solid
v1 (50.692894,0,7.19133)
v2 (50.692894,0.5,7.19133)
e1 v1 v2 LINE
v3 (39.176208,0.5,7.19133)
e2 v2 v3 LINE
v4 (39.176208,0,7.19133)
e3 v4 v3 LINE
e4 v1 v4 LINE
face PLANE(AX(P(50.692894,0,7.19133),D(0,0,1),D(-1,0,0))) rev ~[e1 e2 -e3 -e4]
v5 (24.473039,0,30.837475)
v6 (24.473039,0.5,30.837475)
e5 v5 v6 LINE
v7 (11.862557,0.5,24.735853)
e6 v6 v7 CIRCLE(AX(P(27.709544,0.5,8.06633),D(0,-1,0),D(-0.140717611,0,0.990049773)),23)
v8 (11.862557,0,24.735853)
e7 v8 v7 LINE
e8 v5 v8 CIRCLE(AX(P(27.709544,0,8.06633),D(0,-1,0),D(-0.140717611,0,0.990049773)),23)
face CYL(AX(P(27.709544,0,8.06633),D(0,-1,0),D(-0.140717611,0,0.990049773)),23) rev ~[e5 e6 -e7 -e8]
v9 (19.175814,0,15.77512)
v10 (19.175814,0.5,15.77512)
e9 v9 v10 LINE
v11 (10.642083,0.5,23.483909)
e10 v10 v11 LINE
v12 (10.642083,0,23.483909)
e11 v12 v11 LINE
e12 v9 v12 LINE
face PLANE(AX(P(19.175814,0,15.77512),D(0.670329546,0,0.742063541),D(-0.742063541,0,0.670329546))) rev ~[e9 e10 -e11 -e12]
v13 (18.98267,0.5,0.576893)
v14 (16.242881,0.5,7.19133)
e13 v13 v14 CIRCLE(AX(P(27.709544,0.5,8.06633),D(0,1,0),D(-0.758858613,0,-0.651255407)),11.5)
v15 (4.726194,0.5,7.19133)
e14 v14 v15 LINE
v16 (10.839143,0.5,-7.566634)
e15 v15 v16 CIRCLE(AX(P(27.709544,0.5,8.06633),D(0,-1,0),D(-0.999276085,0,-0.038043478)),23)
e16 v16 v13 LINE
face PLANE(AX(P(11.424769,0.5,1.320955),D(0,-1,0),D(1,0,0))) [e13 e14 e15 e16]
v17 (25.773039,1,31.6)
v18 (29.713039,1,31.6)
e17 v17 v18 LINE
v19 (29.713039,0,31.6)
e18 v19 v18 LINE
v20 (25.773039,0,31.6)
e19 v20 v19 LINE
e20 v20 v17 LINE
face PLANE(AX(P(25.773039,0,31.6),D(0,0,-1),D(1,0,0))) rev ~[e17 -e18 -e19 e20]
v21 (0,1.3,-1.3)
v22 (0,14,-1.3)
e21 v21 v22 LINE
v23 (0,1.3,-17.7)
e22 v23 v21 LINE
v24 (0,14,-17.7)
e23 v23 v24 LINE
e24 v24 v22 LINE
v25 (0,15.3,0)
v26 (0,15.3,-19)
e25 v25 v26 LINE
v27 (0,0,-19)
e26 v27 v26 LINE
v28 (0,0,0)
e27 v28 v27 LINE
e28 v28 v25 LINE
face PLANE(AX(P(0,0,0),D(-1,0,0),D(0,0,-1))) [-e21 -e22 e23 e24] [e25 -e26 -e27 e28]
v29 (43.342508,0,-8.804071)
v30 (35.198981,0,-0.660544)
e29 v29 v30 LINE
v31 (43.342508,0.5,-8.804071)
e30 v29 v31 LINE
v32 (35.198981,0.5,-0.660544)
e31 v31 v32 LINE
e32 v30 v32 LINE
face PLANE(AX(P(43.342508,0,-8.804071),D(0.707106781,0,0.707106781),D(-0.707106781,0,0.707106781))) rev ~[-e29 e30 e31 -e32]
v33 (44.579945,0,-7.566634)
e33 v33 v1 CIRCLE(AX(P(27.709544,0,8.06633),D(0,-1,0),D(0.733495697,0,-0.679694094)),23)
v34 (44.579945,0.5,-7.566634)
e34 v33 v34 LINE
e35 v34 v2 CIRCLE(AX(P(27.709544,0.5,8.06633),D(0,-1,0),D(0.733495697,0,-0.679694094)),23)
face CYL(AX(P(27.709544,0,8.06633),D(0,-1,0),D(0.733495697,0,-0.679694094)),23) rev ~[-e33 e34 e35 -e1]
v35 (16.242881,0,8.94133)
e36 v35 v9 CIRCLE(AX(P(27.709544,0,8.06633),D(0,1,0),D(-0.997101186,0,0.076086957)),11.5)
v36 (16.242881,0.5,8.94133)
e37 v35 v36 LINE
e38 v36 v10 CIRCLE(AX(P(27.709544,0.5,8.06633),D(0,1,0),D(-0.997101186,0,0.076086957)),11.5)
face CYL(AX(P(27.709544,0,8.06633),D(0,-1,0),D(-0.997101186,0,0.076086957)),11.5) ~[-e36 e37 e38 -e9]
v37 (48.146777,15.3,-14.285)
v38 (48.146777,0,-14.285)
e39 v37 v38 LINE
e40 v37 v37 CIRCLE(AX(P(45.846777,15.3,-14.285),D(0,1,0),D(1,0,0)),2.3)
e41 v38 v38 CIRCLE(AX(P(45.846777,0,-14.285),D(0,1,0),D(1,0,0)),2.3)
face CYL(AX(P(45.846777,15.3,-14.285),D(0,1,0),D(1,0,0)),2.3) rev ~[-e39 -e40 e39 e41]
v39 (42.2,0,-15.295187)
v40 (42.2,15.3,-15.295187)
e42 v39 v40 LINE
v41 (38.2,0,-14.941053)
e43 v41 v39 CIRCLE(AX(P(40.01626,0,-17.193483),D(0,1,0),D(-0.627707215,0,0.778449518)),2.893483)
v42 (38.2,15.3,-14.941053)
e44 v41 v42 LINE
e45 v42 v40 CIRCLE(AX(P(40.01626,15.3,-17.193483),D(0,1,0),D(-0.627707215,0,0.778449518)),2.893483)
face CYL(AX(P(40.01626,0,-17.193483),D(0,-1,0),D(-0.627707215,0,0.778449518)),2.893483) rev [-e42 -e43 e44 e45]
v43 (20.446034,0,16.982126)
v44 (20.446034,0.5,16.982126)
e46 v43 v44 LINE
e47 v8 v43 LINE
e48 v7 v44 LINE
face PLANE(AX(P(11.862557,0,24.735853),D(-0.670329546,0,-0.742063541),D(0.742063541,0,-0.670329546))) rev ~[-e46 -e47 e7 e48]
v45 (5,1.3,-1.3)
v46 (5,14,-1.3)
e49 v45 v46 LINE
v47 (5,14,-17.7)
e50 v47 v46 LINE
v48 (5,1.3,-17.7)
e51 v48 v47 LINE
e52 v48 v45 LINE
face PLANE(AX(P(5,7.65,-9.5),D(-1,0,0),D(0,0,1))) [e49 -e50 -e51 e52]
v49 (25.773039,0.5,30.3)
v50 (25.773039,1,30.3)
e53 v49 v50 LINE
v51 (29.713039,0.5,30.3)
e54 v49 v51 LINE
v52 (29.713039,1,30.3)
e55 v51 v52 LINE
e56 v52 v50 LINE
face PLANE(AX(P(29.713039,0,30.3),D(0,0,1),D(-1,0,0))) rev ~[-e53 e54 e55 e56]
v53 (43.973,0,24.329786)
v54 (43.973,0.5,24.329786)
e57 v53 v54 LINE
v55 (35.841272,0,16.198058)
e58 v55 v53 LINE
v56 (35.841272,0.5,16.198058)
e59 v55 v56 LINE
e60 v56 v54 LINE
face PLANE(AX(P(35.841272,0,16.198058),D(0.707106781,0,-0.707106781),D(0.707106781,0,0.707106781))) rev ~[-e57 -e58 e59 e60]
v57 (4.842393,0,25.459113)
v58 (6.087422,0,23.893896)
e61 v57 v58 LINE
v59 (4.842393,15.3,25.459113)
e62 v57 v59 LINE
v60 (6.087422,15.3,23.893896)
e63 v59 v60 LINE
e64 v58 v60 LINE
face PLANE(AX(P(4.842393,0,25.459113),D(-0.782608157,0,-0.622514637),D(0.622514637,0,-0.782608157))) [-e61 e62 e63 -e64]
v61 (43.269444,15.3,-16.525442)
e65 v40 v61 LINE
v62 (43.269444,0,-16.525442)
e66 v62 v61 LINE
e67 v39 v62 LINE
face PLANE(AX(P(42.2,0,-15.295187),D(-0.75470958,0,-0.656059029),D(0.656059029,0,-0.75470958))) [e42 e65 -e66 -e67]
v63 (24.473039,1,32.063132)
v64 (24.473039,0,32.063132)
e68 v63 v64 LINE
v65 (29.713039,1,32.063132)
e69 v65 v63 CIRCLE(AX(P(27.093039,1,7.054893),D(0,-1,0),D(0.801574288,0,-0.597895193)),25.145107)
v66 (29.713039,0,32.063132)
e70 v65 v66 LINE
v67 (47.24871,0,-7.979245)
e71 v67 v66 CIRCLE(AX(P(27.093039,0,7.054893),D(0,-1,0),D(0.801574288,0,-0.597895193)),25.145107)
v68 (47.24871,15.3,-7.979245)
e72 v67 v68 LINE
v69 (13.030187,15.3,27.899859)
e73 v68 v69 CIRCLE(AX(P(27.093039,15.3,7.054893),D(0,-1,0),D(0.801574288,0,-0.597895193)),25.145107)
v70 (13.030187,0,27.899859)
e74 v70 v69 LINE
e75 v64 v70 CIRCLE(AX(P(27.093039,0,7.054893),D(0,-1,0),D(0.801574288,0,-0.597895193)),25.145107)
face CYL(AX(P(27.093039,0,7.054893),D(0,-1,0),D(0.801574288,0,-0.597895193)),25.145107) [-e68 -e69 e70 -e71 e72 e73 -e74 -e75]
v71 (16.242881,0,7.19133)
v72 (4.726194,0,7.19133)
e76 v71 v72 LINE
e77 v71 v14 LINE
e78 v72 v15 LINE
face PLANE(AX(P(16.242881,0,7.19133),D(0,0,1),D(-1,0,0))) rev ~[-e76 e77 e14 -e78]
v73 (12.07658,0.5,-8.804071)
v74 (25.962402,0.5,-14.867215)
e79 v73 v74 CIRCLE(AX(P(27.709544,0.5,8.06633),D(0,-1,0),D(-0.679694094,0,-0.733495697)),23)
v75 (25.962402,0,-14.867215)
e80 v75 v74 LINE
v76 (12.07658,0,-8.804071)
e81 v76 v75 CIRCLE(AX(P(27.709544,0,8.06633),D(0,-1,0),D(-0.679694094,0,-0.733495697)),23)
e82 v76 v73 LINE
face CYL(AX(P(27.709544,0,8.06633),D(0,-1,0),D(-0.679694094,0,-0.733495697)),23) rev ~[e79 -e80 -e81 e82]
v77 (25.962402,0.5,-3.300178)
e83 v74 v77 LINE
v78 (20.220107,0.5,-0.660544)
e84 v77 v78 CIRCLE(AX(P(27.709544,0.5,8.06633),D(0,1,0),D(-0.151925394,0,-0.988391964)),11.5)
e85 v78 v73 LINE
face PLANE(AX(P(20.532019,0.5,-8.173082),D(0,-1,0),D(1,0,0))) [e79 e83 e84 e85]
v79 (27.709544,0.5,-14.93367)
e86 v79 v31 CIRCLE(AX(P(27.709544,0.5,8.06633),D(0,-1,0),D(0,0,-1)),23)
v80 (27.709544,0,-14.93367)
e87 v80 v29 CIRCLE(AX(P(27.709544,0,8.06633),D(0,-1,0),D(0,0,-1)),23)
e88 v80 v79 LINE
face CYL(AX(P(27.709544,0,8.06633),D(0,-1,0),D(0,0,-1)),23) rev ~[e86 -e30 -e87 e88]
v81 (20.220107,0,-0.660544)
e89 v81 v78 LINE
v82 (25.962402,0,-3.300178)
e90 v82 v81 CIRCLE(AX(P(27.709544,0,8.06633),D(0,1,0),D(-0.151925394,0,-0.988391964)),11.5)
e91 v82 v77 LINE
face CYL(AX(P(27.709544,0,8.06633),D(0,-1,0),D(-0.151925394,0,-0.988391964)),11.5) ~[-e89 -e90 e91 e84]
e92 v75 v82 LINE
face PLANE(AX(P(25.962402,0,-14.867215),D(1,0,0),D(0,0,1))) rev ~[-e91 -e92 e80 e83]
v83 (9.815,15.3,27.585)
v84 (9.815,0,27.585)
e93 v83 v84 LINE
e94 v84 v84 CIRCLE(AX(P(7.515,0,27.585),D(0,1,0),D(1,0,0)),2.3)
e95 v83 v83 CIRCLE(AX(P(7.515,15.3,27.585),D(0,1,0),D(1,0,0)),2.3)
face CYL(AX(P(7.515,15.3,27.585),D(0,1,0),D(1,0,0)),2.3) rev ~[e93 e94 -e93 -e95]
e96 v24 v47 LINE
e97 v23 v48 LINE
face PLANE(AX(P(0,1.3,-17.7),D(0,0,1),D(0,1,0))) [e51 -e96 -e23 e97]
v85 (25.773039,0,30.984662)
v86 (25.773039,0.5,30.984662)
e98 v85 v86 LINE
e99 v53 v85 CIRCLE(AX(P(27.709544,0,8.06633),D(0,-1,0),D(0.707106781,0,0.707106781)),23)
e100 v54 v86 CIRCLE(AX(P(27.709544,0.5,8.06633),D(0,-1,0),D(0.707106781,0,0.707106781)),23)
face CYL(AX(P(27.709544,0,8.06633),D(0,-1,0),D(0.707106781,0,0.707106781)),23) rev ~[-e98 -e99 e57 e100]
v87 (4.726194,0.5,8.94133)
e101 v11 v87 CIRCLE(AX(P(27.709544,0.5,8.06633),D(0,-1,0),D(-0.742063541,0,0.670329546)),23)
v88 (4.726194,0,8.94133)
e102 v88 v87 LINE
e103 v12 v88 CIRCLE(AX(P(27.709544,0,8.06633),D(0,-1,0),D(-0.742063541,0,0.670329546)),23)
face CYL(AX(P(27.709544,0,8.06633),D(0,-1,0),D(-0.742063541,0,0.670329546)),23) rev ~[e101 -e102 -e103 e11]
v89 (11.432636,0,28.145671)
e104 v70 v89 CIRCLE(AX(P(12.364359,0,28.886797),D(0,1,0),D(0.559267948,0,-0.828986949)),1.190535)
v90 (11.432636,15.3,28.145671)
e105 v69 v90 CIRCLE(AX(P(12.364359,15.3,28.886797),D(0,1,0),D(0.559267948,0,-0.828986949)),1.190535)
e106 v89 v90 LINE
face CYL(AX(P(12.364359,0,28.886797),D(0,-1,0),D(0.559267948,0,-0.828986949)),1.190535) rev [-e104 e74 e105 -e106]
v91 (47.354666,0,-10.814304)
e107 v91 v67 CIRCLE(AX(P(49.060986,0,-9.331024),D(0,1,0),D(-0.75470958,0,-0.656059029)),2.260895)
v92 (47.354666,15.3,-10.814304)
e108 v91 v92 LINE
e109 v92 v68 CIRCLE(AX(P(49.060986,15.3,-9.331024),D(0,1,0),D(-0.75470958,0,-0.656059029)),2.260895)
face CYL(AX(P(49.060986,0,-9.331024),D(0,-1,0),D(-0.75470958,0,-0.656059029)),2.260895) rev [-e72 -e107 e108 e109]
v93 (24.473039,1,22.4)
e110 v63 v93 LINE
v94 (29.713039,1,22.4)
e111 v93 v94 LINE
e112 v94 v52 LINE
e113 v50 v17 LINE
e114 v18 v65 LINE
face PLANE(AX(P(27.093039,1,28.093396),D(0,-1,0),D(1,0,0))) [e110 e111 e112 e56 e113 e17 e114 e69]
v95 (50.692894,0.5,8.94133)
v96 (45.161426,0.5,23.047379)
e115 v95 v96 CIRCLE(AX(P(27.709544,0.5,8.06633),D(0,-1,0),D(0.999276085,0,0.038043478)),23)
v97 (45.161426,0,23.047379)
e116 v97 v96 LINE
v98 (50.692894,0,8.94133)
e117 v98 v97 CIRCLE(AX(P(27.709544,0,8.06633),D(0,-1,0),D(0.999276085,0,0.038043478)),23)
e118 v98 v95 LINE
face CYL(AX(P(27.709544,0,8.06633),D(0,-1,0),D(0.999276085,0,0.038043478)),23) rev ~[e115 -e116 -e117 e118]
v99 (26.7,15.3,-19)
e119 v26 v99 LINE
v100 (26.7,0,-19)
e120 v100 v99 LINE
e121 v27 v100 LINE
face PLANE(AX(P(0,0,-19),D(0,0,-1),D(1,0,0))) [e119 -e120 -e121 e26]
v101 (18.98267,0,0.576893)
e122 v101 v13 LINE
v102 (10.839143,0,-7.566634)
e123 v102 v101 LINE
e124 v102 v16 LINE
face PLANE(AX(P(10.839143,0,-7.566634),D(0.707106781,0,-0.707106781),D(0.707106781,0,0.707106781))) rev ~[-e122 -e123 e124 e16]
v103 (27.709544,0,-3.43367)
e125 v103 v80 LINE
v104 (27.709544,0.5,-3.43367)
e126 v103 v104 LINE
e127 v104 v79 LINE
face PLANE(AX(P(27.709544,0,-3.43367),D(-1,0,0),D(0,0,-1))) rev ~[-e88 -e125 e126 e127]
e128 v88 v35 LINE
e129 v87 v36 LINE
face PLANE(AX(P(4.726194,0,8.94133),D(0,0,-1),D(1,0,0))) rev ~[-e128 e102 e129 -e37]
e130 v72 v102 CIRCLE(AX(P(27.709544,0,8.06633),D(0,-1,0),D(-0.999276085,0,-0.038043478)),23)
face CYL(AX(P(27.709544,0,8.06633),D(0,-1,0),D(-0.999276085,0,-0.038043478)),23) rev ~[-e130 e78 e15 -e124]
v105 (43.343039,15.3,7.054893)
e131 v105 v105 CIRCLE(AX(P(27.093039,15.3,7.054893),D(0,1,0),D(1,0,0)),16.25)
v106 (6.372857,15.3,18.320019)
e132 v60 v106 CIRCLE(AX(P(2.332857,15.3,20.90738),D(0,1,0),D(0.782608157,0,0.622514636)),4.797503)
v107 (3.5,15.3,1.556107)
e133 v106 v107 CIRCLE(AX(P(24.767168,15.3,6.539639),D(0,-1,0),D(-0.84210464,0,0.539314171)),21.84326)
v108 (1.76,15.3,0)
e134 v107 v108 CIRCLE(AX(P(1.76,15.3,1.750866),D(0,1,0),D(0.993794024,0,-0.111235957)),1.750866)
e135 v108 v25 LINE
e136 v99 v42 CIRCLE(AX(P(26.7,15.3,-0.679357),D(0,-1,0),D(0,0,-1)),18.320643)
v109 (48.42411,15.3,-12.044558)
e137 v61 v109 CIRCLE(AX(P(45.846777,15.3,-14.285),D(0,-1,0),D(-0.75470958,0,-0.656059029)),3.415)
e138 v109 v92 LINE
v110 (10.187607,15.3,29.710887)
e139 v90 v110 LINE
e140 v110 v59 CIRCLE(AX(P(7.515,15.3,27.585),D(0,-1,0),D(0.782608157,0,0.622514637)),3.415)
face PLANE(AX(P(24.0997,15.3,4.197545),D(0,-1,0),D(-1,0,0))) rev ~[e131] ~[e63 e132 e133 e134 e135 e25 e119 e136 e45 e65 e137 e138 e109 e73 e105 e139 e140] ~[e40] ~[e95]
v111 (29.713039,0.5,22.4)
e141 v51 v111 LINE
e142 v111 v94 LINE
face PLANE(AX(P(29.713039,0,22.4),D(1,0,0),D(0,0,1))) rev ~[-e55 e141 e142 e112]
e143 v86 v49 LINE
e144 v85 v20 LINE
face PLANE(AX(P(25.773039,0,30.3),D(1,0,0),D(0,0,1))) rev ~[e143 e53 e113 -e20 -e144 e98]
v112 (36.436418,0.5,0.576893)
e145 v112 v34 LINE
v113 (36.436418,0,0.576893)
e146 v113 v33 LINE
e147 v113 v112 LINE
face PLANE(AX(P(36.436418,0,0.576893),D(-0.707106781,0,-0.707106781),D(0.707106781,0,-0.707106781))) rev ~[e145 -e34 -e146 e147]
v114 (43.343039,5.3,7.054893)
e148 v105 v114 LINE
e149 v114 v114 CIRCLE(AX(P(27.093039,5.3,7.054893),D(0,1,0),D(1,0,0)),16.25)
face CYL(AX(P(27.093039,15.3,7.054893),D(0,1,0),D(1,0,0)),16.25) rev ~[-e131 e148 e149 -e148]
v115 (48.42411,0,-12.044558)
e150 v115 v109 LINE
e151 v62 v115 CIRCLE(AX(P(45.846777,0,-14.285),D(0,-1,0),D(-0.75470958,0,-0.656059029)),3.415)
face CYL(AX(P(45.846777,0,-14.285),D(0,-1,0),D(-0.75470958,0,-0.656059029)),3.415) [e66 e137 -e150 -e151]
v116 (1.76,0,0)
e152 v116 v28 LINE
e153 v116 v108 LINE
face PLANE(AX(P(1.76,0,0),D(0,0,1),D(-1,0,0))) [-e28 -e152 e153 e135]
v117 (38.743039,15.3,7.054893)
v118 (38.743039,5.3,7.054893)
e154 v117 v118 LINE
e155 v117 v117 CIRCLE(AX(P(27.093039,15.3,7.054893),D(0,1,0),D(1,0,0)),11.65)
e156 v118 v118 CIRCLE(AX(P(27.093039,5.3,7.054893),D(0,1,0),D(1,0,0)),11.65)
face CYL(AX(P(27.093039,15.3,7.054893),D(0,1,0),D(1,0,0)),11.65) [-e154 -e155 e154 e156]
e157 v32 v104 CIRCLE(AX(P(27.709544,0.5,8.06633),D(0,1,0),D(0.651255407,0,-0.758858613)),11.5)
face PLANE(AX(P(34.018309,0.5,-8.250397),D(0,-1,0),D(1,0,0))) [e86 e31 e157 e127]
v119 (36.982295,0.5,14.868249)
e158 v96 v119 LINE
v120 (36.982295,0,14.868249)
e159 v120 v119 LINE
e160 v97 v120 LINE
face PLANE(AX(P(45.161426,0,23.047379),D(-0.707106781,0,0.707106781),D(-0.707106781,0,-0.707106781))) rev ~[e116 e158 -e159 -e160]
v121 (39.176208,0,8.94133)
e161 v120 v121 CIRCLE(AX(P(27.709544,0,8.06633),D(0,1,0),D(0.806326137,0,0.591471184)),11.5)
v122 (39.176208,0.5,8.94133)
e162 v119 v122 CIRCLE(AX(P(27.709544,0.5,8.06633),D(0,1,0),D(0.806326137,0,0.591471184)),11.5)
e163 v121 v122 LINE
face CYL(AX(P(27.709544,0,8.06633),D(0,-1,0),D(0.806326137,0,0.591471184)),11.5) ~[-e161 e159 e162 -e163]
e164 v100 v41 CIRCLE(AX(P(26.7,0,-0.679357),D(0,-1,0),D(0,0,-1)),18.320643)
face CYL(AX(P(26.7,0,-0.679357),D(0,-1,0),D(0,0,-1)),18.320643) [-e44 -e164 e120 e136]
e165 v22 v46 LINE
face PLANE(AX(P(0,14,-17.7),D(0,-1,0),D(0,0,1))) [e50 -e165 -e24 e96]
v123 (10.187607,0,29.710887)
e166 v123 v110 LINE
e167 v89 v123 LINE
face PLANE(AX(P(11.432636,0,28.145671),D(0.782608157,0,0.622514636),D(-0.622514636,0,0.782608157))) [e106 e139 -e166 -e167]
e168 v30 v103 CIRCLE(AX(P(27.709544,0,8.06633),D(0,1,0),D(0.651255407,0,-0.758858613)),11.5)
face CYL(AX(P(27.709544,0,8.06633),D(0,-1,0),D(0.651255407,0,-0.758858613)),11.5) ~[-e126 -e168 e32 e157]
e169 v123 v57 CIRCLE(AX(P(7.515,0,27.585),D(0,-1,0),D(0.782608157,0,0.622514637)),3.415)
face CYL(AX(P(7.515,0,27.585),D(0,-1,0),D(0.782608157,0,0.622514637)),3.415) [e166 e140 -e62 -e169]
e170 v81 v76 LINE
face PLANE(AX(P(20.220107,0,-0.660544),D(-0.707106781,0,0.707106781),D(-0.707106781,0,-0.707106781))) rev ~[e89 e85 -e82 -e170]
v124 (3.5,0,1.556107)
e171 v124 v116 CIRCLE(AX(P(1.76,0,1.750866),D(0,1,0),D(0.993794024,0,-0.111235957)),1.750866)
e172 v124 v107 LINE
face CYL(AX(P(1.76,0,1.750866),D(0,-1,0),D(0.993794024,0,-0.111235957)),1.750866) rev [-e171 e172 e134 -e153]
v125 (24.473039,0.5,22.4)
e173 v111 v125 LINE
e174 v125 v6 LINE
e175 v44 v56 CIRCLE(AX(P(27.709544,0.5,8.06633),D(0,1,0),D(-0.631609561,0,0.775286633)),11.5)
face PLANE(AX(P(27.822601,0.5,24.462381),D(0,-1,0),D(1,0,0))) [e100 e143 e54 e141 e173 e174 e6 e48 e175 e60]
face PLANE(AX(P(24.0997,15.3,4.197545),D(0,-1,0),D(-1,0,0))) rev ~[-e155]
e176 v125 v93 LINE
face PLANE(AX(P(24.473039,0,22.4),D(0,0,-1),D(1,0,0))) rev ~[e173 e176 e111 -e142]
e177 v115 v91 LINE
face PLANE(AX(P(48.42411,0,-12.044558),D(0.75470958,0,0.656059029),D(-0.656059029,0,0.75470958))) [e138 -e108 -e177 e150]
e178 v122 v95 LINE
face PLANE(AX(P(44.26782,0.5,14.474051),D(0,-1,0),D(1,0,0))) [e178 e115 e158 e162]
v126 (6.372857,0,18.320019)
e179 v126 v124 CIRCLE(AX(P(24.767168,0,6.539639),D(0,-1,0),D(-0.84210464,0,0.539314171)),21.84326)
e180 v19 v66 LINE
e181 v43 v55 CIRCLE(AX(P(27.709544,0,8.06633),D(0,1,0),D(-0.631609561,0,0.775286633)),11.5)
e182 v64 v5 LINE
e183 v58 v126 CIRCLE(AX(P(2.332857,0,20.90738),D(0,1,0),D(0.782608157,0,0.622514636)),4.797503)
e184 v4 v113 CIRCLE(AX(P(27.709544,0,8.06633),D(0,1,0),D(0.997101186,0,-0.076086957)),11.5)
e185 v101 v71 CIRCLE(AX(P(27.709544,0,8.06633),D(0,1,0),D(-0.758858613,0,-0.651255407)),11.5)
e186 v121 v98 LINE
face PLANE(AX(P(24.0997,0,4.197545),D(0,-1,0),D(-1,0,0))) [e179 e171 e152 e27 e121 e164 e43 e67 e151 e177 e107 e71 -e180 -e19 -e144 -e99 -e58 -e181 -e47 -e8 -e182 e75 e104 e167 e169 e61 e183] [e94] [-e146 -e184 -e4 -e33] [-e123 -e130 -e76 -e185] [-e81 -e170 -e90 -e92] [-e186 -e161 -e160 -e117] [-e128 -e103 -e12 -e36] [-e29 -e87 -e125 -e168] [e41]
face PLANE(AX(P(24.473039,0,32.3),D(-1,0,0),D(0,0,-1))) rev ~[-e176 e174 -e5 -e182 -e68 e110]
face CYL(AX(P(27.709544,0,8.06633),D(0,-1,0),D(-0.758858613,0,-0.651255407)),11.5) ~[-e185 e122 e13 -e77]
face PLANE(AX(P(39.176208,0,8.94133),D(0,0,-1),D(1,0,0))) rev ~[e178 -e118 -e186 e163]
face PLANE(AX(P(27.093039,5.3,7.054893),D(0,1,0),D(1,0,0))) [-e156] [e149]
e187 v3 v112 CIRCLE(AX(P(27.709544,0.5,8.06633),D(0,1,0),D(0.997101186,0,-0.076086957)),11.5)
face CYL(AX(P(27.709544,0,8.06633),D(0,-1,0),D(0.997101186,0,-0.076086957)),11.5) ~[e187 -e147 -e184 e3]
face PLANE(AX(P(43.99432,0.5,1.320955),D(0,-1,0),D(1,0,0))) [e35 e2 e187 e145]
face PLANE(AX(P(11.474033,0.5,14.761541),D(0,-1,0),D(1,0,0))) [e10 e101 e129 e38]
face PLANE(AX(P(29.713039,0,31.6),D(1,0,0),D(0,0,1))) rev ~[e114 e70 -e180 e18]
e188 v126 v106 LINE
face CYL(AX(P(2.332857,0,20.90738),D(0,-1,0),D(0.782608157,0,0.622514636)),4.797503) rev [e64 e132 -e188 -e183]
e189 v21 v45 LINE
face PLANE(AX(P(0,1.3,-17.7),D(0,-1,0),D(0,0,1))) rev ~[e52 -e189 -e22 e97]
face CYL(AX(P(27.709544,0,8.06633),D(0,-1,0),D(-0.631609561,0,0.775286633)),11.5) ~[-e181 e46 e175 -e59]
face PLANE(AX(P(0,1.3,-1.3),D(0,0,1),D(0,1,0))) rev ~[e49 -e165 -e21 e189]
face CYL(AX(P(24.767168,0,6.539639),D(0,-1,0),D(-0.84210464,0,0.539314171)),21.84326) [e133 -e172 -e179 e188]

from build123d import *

# Parameters (mm, degrees)
BOSS_EXTRUDE1_DEPTH = 15.3
SKETCH2_R           = 2.3
CUT_EXTRUDE1_DEPTH  = 16.3
SKETCH3_R           = 16.25
SKETCH3_R_2         = 11.65
CUT_EXTRUDE2_DEPTH  = 10
SKETCH4_W           = 16.4
SKETCH4_H           = 12.7
CUT_EXTRUDE3_DEPTH  = 5
CUT_EXTRUDE6_DEPTH  = 1
CUT_EXTRUDE7_DEPTH  = 0.5


with BuildPart() as part:
    # Sketch1 → Boss-Extrude1 (new body)
    with BuildSketch(Plane(origin=(0, 0, 0), x_dir=(1, 0, 0), z_dir=(0, 1, 0))):
        with BuildLine():
            Line((0, 0), (0, 19))
            Line((0, 19), (26.7, 19))
            ThreePointArc((26.7, 19), (32.797644088, 17.95548785), (38.2, 14.941052635))
            ThreePointArc((38.2, 14.941052635), (40.271433107, 14.311273646), (42.2, 15.295187477))
            Line((42.2, 15.295187477), (43.269443579, 16.525441584))
            ThreePointArc((43.269443579, 16.525441584), (48.087218379, 16.862333216), (48.424110012, 12.044558416))
            Line((48.424110012, 12.044558416), (47.354666433, 10.814304309))
            ThreePointArc((47.354666433, 10.814304309), (46.801667822, 9.415462269), (47.248710238, 7.979245156))
            ThreePointArc((47.248710238, 7.979245156), (45.289416111, -24.409093359), (13.030186992, -27.899858595))
            ThreePointArc((13.030186992, -27.899858595), (12.183303759, -27.710109359), (11.432636129, -28.14567117))
            Line((11.432636129, -28.14567117), (10.187606856, -29.710887484))
            ThreePointArc((10.187606856, -29.710887484), (5.389112516, -30.257606856), (4.842393144, -25.459112516))
            Line((4.842393144, -25.459112516), (6.087422418, -23.893896202))
            ThreePointArc((6.087422418, -23.893896202), (7.124082388, -21.152735596), (6.372856996, -18.320018566))
            ThreePointArc((6.372856996, -18.320018566), (3.237759838, -10.229166003), (3.5, -1.556106595))
            ThreePointArc((3.5, -1.556106595), (2.927161914, -0.445774177), (1.76, 0))
            Line((1.76, 0), (0, 0))
        make_face()
    extrude(amount=BOSS_EXTRUDE1_DEPTH)

    # Sketch2 → Cut-Extrude1 (cut, through all)
    with BuildSketch(Plane(origin=(0, 15.3, 0), x_dir=(1, 0, 0), z_dir=(0, 1, 0))):
        with Locations((45.846776795, 14.285)):
            Circle(SKETCH2_R)
        with Locations((7.515, -27.585)):
            Circle(SKETCH2_R)
    extrude(amount=-CUT_EXTRUDE1_DEPTH, mode=Mode.SUBTRACT)

    # Sketch3 → Cut-Extrude2 (cut)
    with BuildSketch(Plane(origin=(0, 15.3, 0), x_dir=(1, 0, 0), z_dir=(0, 1, 0))):
        with Locations((27.093039229, -7.054893275)):
            Circle(SKETCH3_R)
        with Locations((27.093039229, -7.054893275)):
            Circle(SKETCH3_R_2, mode=Mode.SUBTRACT)
    extrude(amount=-CUT_EXTRUDE2_DEPTH, mode=Mode.SUBTRACT)

    # Sketch4 → Cut-Extrude3 (cut)
    with BuildSketch(Plane.ZY):
        with Locations((-9.5, 7.65)):
            Rectangle(SKETCH4_W, SKETCH4_H)
    extrude(amount=-CUT_EXTRUDE3_DEPTH, mode=Mode.SUBTRACT)

    # Sketch5 → Cut-Extrude6 (cut)
    with BuildSketch(Plane.XZ):
        Polygon((24.473039229, 32.3), (24.473039229, 22.4), (29.713039229, 22.4), (29.713039229, 30.3), (25.773039229, 30.3), (25.773039229, 31.6), (29.713039229, 31.6), (29.713039229, 32.3), align=None)
    extrude(amount=-CUT_EXTRUDE6_DEPTH, mode=Mode.SUBTRACT)

    # Sketch6 → Cut-Extrude7 (cut)
    with BuildSketch(Plane.XZ):
        with BuildLine():
            ThreePointArc((20.446034334, 16.982126203), (28.294472835, 19.55144458), (35.841272267, 16.198057911))
            Line((35.841272267, 16.198057911), (43.97300025, 24.329785894))
            ThreePointArc((43.97300025, 24.329785894), (35.608102686, 29.66755154), (25.773039229, 30.984662069))
            Line((25.773039229, 30.984662069), (25.773039229, 30.3))
            Line((25.773039229, 30.3), (29.713039229, 30.3))
            Line((29.713039229, 30.3), (29.713039229, 22.4))
            Line((29.713039229, 22.4), (24.473039229, 22.4))
            Line((24.473039229, 22.4), (24.473039229, 30.837474717))
            ThreePointArc((24.473039229, 30.837474717), (17.69194169, 28.770137265), (11.862557451, 24.735853266))
            Line((11.862557451, 24.735853266), (20.446034334, 16.982126203))
        make_face()
        with BuildLine():
            ThreePointArc((16.242880644, 8.941329927), (17.141710334, 12.601843748), (19.175813557, 15.775119708))
            Line((19.175813557, 15.775119708), (10.642082831, 23.48390949))
            ThreePointArc((10.642082831, 23.48390949), (6.404884497, 16.733017379), (4.726194331, 8.941329927))
            Line((4.726194331, 8.941329927), (16.242880644, 8.941329927))
        make_face()
        with BuildLine():
            ThreePointArc((18.982670233, 0.576892744), (17.084929659, 3.665470455), (16.242880644, 7.191329927))
            Line((16.242880644, 7.191329927), (4.726194331, 7.191329927))
            ThreePointArc((4.726194331, 7.191329927), (6.460315035, -0.735389017), (10.839143244, -7.566634245))
            Line((10.839143244, -7.566634245), (18.982670233, 0.576892744))
        make_face()
        with BuildLine():
            ThreePointArc((25.962402252, -3.30017766), (22.906366669, -2.382568809), (20.2201071, -0.660544123))
            Line((20.2201071, -0.660544123), (12.076580111, -8.804071112))
            ThreePointArc((12.076580111, -8.804071112), (18.505879136, -13.011918289), (25.962402252, -14.867215257))
            Line((25.962402252, -14.867215257), (25.962402252, -3.30017766))
        make_face()
        with BuildLine():
            Line((43.342508455, -8.804071112), (35.198981466, -0.660544123))
            ThreePointArc((35.198981466, -0.660544123), (31.702722743, -2.718127676), (27.709544283, -3.433670073))
            Line((27.709544283, -3.433670073), (27.709544283, -14.933670073))
            ThreePointArc((27.709544283, -14.933670073), (36.105399692, -13.346507623), (43.342508455, -8.804071112))
        make_face()
        with BuildLine():
            Line((50.692894235, 7.191329927), (39.176207922, 7.191329927))
            ThreePointArc((39.176207922, 7.191329927), (38.334158907, 3.665470455), (36.436418333, 0.576892744))
            Line((36.436418333, 0.576892744), (44.579945322, -7.566634245))
            ThreePointArc((44.579945322, -7.566634245), (48.958773531, -0.735389017), (50.692894235, 7.191329927))
        make_face()
        with BuildLine():
            Line((45.161425577, 23.047379266), (36.982294854, 14.868248542))
            ThreePointArc((36.982294854, 14.868248542), (38.494390898, 12.058457617), (39.176207922, 8.941329927))
            Line((39.176207922, 8.941329927), (50.692894235, 8.941329927))
            ThreePointArc((50.692894235, 8.941329927), (49.122090569, 16.462928139), (45.161425577, 23.047379266))
        make_face()
    extrude(amount=-CUT_EXTRUDE7_DEPTH, mode=Mode.SUBTRACT)


solid = part.part
